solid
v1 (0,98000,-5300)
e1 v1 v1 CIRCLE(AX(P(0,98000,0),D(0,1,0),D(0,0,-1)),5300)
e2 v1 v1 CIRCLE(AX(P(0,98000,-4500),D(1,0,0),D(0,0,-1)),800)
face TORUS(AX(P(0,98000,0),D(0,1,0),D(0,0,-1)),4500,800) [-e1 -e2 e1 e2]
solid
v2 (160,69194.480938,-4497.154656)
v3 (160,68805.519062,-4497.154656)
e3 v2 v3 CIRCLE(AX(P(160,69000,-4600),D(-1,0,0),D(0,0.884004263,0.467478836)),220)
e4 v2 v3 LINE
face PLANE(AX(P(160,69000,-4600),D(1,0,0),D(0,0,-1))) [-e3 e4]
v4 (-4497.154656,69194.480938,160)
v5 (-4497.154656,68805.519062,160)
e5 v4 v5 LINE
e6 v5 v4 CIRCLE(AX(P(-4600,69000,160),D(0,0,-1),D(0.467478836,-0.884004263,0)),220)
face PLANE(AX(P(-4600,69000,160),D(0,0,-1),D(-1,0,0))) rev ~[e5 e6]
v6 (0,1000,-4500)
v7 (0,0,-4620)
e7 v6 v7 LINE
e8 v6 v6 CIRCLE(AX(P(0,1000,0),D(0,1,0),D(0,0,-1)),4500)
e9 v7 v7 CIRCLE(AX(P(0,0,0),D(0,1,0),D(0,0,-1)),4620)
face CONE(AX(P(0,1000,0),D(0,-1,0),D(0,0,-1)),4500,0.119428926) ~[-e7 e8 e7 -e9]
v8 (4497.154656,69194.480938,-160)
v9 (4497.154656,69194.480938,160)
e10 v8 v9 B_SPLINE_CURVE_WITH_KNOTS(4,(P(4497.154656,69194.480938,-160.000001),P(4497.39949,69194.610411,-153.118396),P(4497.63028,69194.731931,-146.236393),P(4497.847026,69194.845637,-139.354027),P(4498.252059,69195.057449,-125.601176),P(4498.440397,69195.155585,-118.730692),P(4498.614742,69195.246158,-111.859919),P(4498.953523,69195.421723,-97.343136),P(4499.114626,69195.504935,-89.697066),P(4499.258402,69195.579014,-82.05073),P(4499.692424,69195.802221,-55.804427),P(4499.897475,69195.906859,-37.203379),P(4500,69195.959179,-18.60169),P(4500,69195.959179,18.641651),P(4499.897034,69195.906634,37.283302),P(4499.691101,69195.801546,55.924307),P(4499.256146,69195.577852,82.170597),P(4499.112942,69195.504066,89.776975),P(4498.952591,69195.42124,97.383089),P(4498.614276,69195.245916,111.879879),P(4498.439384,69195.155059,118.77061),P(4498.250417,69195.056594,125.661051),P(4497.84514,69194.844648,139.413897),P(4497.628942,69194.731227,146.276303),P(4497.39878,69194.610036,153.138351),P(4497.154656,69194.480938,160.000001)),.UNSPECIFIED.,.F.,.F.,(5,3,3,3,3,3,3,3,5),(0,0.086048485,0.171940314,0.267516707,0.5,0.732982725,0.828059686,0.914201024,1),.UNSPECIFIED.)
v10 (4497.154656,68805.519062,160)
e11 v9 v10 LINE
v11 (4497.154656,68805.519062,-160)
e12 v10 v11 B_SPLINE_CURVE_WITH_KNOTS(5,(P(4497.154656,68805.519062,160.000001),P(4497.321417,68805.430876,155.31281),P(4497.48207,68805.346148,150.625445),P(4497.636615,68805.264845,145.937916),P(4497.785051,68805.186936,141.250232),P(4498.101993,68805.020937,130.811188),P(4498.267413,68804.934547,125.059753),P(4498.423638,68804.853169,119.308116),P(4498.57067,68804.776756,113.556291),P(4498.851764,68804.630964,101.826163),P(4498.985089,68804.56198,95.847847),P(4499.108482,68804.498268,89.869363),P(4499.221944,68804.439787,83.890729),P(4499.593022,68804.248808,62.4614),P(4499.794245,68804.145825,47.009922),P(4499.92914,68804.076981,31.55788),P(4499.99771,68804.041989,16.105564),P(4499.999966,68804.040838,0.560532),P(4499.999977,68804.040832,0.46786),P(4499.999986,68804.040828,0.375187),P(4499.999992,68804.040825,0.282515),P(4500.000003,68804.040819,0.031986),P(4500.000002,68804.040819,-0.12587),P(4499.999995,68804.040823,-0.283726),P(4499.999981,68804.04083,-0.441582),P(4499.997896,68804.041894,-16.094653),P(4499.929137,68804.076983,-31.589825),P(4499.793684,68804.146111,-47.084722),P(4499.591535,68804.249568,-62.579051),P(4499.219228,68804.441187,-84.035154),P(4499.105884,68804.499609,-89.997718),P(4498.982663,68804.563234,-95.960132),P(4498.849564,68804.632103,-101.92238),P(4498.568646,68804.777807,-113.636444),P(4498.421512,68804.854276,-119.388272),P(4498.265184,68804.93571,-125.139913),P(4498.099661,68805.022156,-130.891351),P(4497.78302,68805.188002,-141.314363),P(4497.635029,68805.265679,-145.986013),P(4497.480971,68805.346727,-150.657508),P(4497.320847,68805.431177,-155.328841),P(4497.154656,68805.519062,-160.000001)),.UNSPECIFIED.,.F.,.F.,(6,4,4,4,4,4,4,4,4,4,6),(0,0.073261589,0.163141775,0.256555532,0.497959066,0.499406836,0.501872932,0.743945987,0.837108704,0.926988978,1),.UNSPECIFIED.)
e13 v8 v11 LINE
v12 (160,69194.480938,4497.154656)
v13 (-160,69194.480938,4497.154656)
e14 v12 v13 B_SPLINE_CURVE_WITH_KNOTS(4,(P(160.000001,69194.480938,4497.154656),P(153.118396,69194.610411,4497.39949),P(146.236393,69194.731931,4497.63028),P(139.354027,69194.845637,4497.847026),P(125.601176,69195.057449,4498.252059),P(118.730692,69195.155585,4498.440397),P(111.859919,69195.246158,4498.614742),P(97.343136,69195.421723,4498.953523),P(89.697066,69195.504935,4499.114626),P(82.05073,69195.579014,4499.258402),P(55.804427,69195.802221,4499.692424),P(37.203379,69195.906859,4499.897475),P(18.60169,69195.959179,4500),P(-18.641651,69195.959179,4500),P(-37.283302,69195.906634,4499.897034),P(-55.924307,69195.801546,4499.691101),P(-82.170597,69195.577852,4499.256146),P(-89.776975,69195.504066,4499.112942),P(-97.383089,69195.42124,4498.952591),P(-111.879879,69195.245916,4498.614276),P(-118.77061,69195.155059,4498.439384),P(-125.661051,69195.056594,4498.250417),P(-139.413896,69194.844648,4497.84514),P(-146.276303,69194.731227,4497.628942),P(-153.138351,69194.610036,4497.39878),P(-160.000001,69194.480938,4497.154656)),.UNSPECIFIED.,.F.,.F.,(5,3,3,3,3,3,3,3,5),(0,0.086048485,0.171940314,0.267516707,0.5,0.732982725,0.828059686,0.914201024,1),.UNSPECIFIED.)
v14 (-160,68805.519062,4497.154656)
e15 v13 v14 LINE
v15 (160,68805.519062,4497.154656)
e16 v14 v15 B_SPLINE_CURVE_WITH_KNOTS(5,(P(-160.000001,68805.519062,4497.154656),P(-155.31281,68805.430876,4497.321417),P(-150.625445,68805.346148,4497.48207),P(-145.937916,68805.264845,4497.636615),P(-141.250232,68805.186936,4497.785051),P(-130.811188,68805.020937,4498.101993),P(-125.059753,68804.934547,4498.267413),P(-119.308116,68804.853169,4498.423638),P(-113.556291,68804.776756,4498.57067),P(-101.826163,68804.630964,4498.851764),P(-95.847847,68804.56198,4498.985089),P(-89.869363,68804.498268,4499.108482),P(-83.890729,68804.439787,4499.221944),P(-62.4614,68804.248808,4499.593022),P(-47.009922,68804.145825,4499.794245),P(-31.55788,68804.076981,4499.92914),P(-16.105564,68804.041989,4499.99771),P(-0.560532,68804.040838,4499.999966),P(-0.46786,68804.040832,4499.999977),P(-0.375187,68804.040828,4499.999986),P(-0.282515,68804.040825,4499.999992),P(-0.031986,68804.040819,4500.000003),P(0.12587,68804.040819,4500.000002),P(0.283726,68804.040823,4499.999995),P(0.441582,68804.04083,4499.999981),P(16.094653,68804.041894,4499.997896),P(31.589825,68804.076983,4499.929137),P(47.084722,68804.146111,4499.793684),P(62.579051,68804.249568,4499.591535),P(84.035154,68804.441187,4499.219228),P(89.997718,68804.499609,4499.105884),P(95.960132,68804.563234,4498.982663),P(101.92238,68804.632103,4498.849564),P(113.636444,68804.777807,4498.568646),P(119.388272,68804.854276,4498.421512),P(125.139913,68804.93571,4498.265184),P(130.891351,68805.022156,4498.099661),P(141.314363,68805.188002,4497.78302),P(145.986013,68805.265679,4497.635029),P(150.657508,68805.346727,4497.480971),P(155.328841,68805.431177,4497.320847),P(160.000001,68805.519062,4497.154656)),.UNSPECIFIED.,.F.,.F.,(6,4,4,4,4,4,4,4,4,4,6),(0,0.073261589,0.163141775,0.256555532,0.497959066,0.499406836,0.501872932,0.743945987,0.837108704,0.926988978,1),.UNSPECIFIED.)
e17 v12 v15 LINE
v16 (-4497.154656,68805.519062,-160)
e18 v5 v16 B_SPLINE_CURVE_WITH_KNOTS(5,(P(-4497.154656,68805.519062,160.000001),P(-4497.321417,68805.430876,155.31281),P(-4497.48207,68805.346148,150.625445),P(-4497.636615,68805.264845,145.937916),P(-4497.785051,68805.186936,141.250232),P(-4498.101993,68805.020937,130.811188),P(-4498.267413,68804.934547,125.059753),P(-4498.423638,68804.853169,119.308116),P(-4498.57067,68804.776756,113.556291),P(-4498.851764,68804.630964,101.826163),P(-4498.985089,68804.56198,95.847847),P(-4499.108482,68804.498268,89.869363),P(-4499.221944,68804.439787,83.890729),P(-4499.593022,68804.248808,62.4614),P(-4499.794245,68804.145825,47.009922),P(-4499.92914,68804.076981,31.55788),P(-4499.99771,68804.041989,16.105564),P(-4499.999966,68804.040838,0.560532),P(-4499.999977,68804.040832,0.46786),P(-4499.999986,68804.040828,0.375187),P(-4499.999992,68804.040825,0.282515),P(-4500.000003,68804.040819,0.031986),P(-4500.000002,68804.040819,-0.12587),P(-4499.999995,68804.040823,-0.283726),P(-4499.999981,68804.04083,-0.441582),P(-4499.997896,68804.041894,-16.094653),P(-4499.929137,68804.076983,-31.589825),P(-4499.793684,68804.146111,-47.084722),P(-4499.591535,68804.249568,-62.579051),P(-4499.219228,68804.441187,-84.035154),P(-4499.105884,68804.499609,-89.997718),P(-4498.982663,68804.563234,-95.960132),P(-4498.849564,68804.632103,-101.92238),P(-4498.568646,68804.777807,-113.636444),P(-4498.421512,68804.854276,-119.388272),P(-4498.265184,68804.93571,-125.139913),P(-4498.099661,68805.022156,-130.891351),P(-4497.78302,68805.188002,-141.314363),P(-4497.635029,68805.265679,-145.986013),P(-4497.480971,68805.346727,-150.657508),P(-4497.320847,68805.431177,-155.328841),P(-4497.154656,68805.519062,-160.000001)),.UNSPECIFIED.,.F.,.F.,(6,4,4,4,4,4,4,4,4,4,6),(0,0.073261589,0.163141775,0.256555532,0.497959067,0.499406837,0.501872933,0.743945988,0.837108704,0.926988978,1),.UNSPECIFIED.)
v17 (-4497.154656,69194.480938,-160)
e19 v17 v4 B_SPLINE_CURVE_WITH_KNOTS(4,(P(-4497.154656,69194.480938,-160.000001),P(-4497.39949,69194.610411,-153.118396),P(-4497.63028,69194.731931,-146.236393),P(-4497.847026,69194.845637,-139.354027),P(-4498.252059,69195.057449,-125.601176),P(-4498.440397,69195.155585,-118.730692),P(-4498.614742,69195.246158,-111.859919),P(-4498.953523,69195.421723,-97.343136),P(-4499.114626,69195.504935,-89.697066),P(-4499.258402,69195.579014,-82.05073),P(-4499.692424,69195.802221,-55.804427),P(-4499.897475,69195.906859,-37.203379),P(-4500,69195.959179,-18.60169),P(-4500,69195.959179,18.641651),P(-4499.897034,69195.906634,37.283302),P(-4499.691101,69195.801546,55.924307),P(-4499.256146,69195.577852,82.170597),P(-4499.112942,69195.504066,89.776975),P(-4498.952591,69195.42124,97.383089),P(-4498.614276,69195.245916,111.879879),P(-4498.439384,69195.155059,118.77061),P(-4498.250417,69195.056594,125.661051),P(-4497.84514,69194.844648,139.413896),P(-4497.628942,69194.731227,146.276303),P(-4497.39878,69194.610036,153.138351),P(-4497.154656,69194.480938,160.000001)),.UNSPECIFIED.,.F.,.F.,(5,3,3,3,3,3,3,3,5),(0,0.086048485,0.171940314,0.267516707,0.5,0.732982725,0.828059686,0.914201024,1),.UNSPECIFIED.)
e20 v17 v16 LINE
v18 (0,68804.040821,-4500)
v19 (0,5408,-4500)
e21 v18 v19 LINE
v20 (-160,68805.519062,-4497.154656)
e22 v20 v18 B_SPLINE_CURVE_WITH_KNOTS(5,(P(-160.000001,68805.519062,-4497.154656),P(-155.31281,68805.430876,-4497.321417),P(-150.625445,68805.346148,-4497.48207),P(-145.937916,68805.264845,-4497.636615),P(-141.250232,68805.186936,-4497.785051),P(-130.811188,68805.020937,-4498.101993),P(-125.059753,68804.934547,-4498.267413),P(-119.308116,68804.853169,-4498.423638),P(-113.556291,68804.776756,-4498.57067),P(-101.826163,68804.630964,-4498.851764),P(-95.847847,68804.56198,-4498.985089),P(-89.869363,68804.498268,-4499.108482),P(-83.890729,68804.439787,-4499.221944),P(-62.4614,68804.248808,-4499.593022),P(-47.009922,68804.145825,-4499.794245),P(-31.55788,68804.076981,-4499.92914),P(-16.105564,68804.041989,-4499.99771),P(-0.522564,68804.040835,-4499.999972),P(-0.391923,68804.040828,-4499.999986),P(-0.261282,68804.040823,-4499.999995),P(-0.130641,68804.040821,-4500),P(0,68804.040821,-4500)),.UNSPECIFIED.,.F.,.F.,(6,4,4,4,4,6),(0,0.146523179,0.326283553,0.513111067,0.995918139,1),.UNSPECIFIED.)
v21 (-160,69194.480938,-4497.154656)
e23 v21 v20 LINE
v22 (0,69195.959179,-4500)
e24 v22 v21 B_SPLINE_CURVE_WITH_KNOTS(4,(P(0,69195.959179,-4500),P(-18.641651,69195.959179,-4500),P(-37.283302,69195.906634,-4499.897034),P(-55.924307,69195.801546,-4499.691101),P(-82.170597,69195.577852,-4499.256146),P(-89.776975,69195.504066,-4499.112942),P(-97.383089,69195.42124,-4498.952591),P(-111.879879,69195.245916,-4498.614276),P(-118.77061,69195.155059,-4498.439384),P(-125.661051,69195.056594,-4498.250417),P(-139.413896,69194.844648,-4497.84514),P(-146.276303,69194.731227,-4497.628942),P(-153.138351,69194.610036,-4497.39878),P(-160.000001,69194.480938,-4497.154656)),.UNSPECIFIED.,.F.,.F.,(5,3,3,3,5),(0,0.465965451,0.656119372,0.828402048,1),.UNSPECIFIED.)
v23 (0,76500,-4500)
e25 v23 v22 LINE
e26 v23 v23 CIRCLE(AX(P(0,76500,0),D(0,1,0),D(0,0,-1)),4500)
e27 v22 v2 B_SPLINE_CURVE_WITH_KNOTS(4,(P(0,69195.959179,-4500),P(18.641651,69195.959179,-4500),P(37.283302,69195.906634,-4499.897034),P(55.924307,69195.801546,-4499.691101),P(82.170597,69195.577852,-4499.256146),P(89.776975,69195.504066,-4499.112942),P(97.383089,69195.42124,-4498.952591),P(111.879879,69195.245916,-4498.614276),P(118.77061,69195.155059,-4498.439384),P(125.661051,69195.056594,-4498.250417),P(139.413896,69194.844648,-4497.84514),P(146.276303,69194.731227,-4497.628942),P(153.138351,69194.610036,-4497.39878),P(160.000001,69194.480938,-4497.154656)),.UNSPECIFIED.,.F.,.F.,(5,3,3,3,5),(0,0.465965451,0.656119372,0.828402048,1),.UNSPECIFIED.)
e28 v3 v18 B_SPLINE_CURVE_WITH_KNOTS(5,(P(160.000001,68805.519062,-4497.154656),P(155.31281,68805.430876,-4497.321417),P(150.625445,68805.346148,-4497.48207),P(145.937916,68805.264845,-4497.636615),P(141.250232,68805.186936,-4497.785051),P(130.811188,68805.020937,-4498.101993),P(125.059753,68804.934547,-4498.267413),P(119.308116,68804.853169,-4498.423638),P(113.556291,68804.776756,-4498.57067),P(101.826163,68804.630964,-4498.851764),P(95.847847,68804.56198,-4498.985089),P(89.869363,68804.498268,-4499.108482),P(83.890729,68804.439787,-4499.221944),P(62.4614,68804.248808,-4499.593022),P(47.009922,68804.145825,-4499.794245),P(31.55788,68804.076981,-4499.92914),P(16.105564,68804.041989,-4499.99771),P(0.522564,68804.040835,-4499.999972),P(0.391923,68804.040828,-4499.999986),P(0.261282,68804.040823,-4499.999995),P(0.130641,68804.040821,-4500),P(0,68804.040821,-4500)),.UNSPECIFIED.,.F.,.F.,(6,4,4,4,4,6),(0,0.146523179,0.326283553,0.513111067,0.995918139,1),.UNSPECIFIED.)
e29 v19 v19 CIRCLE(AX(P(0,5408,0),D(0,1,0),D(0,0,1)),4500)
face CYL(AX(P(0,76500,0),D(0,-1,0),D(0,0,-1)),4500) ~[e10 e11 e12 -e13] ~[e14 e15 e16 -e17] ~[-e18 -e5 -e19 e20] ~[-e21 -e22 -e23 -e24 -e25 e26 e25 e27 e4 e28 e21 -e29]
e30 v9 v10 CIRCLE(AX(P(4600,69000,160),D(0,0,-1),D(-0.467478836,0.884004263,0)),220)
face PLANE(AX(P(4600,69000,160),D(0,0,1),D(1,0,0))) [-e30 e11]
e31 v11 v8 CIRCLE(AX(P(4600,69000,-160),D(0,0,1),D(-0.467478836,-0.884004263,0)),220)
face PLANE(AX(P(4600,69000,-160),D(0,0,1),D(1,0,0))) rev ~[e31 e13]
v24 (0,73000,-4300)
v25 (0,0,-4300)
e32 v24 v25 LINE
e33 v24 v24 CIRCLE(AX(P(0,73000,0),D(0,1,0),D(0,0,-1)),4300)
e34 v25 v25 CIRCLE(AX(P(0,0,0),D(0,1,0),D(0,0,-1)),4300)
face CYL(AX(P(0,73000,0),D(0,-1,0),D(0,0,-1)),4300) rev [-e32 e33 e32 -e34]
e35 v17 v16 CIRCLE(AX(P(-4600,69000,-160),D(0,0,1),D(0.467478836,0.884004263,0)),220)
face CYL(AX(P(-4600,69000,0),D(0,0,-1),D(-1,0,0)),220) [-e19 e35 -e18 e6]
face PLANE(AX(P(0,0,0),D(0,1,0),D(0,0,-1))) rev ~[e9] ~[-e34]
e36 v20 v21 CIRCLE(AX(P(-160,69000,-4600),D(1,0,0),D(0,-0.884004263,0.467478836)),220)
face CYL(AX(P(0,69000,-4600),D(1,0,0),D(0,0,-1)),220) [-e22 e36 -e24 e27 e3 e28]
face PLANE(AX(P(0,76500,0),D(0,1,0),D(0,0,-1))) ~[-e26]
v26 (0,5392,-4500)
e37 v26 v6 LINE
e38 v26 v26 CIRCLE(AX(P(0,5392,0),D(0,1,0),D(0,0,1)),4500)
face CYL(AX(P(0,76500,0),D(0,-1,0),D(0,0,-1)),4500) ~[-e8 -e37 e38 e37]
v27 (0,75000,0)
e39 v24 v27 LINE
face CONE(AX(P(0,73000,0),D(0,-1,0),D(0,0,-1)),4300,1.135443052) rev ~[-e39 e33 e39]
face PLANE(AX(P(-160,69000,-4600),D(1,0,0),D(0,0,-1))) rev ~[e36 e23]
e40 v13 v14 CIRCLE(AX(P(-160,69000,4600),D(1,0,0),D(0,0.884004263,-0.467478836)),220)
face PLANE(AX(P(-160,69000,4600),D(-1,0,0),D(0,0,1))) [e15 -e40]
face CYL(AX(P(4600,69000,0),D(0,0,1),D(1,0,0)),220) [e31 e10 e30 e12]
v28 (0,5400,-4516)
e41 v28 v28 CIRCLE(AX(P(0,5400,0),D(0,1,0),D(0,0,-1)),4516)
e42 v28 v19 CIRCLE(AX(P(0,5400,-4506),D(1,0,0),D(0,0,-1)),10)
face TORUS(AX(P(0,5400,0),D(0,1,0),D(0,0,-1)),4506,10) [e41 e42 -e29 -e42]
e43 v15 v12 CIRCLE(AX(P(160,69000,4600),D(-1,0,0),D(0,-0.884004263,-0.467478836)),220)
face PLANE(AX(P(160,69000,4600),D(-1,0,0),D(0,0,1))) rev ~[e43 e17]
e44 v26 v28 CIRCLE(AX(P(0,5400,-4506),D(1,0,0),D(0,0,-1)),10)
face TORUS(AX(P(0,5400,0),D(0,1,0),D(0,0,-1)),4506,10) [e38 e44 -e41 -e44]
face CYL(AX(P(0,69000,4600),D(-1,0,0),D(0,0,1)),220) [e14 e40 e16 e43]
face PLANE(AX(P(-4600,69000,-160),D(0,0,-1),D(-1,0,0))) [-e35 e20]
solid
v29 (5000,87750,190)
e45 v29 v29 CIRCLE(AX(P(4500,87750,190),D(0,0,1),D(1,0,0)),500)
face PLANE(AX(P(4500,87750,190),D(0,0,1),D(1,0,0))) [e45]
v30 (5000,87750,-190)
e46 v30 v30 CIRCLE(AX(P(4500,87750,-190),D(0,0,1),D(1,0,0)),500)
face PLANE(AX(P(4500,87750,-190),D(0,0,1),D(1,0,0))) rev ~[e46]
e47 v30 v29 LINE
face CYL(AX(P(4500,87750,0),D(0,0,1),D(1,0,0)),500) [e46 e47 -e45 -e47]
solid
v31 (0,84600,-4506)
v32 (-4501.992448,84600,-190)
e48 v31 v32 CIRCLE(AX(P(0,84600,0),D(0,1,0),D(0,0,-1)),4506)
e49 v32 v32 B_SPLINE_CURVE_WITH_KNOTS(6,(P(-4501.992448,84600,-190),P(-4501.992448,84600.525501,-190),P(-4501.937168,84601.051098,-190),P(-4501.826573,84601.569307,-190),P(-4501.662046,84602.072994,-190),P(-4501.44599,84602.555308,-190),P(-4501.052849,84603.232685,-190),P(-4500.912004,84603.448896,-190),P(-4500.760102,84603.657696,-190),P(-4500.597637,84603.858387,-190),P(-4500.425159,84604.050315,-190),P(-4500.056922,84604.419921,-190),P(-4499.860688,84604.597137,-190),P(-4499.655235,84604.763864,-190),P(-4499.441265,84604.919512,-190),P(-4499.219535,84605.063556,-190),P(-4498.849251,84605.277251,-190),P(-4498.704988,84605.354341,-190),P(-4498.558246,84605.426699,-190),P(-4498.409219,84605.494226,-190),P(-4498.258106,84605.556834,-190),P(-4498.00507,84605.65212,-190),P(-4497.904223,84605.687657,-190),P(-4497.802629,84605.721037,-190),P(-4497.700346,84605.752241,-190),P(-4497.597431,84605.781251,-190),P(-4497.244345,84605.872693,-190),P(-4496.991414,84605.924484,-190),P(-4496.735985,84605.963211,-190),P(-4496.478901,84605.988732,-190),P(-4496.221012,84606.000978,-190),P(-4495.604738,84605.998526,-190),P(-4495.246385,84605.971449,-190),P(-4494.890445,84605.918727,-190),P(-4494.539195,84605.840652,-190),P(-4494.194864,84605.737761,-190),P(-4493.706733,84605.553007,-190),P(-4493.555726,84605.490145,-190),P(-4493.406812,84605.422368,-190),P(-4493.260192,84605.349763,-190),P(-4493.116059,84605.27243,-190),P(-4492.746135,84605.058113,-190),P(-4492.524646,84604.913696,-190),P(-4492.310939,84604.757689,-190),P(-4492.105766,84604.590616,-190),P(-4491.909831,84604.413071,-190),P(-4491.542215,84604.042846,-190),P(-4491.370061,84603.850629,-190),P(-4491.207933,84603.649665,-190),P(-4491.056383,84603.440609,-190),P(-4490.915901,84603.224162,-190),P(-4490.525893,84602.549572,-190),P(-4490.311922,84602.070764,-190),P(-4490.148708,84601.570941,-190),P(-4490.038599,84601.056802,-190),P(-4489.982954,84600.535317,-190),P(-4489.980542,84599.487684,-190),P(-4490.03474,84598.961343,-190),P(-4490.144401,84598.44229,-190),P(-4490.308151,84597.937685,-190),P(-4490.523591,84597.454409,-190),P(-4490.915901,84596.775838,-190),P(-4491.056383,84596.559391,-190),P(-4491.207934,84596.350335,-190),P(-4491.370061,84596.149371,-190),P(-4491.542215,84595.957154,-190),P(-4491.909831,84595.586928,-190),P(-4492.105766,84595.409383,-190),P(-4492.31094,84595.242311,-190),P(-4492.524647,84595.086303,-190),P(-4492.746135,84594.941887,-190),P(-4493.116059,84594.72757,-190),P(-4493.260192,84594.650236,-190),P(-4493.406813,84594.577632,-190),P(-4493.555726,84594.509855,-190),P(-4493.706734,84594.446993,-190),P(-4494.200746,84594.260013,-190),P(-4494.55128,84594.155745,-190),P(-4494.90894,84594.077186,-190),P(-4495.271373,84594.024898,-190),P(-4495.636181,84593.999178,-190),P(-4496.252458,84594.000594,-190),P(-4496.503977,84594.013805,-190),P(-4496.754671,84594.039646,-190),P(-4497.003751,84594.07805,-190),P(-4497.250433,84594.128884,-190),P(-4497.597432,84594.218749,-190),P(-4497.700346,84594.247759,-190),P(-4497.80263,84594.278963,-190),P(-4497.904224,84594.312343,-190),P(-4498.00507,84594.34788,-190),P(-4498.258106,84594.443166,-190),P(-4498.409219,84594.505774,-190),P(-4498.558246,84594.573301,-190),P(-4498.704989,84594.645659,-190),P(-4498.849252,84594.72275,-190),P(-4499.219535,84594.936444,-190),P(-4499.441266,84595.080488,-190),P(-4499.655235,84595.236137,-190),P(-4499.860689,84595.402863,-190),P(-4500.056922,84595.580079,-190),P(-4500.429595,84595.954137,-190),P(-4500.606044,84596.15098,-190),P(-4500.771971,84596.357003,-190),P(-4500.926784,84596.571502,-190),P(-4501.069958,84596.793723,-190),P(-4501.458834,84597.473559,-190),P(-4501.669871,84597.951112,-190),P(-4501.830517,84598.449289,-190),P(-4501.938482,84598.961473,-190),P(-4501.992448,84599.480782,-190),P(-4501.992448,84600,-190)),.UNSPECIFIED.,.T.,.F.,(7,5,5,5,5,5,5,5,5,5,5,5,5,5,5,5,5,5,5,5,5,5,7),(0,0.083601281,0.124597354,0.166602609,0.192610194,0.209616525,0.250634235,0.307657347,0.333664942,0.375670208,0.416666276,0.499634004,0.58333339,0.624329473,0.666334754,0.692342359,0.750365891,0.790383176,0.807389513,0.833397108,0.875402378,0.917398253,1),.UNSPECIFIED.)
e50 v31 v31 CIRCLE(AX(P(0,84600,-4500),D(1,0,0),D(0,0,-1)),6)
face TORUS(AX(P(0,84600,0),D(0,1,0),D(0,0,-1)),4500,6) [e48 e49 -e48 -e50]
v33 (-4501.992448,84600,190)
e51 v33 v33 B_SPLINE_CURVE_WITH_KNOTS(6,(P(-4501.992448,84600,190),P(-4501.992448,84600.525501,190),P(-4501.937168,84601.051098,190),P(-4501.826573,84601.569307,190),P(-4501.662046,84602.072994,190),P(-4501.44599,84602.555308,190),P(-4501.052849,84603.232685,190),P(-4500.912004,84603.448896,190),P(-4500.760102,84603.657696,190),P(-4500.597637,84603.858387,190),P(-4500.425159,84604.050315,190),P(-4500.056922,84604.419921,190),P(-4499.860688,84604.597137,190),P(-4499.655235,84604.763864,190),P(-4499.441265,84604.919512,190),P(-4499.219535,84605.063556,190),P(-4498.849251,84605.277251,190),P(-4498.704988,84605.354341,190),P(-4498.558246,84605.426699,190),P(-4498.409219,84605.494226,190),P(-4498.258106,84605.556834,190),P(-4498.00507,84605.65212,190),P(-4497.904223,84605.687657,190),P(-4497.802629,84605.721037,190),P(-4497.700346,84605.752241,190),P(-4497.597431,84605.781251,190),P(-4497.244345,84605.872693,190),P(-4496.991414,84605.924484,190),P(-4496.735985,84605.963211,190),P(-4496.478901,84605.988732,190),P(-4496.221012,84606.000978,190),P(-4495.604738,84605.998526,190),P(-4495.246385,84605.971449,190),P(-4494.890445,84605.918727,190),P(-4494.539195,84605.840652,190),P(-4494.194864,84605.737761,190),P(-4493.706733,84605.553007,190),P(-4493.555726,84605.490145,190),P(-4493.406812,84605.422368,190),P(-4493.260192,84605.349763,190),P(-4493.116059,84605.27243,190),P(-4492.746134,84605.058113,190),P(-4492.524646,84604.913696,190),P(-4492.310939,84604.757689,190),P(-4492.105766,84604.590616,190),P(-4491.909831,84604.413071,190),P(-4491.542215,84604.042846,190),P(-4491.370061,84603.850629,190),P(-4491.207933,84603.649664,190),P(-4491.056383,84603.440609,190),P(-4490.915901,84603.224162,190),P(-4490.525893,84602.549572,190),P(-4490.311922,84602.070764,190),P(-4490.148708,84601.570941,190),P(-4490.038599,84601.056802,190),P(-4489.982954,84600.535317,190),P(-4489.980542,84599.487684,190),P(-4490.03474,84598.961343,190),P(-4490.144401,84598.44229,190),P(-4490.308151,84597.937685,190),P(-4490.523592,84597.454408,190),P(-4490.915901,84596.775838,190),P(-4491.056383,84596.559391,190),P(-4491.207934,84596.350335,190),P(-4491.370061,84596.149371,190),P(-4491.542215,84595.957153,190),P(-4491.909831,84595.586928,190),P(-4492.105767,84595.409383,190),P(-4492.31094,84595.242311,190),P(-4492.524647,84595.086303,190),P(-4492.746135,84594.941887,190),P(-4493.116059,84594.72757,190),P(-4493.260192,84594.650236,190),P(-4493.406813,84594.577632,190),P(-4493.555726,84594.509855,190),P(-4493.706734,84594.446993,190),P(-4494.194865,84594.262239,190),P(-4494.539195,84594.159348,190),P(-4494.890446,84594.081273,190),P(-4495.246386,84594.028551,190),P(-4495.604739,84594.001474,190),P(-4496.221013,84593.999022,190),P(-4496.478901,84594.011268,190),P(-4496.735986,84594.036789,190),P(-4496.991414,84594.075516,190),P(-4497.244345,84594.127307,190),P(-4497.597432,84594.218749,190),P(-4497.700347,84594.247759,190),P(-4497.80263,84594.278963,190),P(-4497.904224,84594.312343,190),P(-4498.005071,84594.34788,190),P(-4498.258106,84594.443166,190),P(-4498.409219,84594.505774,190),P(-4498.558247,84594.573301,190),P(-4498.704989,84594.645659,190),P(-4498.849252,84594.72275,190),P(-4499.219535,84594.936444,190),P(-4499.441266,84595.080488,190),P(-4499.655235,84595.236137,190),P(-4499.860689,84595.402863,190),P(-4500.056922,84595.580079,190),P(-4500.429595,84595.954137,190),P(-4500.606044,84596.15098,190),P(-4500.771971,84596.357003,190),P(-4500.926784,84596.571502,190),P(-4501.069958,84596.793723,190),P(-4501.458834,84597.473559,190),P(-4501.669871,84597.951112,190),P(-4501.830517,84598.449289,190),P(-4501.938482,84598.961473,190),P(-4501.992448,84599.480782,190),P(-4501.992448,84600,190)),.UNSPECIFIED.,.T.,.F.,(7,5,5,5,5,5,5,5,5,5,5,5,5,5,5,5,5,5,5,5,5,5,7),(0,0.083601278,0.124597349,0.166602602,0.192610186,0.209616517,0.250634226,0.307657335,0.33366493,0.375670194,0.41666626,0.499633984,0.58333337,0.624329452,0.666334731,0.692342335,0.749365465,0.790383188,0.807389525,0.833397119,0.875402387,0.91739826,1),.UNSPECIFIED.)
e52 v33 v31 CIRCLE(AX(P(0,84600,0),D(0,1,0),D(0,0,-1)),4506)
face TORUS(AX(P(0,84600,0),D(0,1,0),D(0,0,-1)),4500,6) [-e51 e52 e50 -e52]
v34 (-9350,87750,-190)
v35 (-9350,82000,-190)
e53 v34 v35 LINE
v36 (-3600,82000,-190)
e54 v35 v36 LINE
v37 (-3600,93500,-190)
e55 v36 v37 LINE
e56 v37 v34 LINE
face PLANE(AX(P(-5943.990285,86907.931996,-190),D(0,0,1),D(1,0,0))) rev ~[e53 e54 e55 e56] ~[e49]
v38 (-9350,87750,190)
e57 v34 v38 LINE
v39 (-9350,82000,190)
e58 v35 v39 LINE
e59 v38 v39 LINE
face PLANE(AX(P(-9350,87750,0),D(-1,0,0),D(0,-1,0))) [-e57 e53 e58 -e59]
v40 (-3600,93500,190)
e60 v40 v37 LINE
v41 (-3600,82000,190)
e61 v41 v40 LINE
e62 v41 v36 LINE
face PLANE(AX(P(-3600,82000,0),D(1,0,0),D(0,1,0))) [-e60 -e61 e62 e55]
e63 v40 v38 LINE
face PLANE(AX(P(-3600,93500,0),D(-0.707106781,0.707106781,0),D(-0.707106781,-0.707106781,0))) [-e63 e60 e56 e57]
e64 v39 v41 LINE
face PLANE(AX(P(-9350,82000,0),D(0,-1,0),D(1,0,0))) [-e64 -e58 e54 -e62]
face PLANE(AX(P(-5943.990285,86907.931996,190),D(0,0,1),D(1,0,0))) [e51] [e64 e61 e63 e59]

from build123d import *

# Parameters (mm, degrees)
SKETCH6_R             = 220
BOSS_EXTRUDE1_DEPTH   = 160
CIRPATTERN1_COUNT     = 4
SKETCH8_R             = 500
BOSS_EXTRUDE2_DEPTH   = 190
BOSS_EXTRUDE2_2_DEPTH = 190
SKETCH10_R            = 10
SKETCH10_R_2          = 6
SKETCH10_R_3          = 800


with BuildPart() as part:
    # Sketch1 → Revolve1 (revolve)
    with BuildSketch(Plane.XY, mode=Mode.PRIVATE) as revolve1_sk:
        Polygon((0, 76500), (4500, 76500), (4500, 1000), (4620, 0), (4300, 0), (4300, 1500), (4300, 73000), (0, 75000), align=None)
    revolve(revolve1_sk.sketch.rotate(Axis((0, 0, 0), (0, 1, 0)), 90), axis=Axis((0, 0, 0), (0, 1, 0)))

    # Sketch6 → Boss-Extrude1 (add, symmetric)
    with BuildSketch(Plane.XY):
        with Locations((4600, 69000)):
            Circle(SKETCH6_R)
    boss_extrude1 = extrude(amount=BOSS_EXTRUDE1_DEPTH, both=True)

    # CirPattern1: Boss-Extrude1 ×4 about axis
    cirpattern1_axis = Axis((0, 0, 0), (0, 1, 0))
    for i in range(1, CIRPATTERN1_COUNT):
        add(boss_extrude1.rotate(cirpattern1_axis, i * 360 / CIRPATTERN1_COUNT))



with BuildPart() as body_2:
    # Sketch8 → Boss-Extrude2 (new, symmetric)
    with BuildSketch(Plane.XY):
        with Locations((4500, 87750)):
            Circle(SKETCH8_R)
    extrude(amount=BOSS_EXTRUDE2_DEPTH, both=True)


with BuildPart() as body_3:
    # Sketch8 → Boss-Extrude2 2 (new, symmetric)
    with BuildSketch(Plane.XY):
        Polygon((-3600, 93500), (-9350, 87750), (-9350, 82000), (-3600, 82000), align=None)
    extrude(amount=BOSS_EXTRUDE2_2_DEPTH, both=True)


with BuildPart() as part_1:
    add(part.part)

    add(body_3.part)  # Revolve6 merges body 3
    # Sketch10 → Revolve6 (revolve)
    with BuildSketch(Plane.XY, mode=Mode.PRIVATE) as revolve6_sk:
        with Locations((4506, 5400)):
            Circle(SKETCH10_R)
        with Locations((4500, 84600)):
            Circle(SKETCH10_R_2)
        with Locations((4500, 98000)):
            Circle(SKETCH10_R_3)
    revolve(revolve6_sk.sketch.rotate(Axis((0, 0, 0), (0, 1, 0)), 90), axis=Axis((0, 0, 0), (0, 1, 0)))


solid = Compound([body_2.part, part_1.part])
